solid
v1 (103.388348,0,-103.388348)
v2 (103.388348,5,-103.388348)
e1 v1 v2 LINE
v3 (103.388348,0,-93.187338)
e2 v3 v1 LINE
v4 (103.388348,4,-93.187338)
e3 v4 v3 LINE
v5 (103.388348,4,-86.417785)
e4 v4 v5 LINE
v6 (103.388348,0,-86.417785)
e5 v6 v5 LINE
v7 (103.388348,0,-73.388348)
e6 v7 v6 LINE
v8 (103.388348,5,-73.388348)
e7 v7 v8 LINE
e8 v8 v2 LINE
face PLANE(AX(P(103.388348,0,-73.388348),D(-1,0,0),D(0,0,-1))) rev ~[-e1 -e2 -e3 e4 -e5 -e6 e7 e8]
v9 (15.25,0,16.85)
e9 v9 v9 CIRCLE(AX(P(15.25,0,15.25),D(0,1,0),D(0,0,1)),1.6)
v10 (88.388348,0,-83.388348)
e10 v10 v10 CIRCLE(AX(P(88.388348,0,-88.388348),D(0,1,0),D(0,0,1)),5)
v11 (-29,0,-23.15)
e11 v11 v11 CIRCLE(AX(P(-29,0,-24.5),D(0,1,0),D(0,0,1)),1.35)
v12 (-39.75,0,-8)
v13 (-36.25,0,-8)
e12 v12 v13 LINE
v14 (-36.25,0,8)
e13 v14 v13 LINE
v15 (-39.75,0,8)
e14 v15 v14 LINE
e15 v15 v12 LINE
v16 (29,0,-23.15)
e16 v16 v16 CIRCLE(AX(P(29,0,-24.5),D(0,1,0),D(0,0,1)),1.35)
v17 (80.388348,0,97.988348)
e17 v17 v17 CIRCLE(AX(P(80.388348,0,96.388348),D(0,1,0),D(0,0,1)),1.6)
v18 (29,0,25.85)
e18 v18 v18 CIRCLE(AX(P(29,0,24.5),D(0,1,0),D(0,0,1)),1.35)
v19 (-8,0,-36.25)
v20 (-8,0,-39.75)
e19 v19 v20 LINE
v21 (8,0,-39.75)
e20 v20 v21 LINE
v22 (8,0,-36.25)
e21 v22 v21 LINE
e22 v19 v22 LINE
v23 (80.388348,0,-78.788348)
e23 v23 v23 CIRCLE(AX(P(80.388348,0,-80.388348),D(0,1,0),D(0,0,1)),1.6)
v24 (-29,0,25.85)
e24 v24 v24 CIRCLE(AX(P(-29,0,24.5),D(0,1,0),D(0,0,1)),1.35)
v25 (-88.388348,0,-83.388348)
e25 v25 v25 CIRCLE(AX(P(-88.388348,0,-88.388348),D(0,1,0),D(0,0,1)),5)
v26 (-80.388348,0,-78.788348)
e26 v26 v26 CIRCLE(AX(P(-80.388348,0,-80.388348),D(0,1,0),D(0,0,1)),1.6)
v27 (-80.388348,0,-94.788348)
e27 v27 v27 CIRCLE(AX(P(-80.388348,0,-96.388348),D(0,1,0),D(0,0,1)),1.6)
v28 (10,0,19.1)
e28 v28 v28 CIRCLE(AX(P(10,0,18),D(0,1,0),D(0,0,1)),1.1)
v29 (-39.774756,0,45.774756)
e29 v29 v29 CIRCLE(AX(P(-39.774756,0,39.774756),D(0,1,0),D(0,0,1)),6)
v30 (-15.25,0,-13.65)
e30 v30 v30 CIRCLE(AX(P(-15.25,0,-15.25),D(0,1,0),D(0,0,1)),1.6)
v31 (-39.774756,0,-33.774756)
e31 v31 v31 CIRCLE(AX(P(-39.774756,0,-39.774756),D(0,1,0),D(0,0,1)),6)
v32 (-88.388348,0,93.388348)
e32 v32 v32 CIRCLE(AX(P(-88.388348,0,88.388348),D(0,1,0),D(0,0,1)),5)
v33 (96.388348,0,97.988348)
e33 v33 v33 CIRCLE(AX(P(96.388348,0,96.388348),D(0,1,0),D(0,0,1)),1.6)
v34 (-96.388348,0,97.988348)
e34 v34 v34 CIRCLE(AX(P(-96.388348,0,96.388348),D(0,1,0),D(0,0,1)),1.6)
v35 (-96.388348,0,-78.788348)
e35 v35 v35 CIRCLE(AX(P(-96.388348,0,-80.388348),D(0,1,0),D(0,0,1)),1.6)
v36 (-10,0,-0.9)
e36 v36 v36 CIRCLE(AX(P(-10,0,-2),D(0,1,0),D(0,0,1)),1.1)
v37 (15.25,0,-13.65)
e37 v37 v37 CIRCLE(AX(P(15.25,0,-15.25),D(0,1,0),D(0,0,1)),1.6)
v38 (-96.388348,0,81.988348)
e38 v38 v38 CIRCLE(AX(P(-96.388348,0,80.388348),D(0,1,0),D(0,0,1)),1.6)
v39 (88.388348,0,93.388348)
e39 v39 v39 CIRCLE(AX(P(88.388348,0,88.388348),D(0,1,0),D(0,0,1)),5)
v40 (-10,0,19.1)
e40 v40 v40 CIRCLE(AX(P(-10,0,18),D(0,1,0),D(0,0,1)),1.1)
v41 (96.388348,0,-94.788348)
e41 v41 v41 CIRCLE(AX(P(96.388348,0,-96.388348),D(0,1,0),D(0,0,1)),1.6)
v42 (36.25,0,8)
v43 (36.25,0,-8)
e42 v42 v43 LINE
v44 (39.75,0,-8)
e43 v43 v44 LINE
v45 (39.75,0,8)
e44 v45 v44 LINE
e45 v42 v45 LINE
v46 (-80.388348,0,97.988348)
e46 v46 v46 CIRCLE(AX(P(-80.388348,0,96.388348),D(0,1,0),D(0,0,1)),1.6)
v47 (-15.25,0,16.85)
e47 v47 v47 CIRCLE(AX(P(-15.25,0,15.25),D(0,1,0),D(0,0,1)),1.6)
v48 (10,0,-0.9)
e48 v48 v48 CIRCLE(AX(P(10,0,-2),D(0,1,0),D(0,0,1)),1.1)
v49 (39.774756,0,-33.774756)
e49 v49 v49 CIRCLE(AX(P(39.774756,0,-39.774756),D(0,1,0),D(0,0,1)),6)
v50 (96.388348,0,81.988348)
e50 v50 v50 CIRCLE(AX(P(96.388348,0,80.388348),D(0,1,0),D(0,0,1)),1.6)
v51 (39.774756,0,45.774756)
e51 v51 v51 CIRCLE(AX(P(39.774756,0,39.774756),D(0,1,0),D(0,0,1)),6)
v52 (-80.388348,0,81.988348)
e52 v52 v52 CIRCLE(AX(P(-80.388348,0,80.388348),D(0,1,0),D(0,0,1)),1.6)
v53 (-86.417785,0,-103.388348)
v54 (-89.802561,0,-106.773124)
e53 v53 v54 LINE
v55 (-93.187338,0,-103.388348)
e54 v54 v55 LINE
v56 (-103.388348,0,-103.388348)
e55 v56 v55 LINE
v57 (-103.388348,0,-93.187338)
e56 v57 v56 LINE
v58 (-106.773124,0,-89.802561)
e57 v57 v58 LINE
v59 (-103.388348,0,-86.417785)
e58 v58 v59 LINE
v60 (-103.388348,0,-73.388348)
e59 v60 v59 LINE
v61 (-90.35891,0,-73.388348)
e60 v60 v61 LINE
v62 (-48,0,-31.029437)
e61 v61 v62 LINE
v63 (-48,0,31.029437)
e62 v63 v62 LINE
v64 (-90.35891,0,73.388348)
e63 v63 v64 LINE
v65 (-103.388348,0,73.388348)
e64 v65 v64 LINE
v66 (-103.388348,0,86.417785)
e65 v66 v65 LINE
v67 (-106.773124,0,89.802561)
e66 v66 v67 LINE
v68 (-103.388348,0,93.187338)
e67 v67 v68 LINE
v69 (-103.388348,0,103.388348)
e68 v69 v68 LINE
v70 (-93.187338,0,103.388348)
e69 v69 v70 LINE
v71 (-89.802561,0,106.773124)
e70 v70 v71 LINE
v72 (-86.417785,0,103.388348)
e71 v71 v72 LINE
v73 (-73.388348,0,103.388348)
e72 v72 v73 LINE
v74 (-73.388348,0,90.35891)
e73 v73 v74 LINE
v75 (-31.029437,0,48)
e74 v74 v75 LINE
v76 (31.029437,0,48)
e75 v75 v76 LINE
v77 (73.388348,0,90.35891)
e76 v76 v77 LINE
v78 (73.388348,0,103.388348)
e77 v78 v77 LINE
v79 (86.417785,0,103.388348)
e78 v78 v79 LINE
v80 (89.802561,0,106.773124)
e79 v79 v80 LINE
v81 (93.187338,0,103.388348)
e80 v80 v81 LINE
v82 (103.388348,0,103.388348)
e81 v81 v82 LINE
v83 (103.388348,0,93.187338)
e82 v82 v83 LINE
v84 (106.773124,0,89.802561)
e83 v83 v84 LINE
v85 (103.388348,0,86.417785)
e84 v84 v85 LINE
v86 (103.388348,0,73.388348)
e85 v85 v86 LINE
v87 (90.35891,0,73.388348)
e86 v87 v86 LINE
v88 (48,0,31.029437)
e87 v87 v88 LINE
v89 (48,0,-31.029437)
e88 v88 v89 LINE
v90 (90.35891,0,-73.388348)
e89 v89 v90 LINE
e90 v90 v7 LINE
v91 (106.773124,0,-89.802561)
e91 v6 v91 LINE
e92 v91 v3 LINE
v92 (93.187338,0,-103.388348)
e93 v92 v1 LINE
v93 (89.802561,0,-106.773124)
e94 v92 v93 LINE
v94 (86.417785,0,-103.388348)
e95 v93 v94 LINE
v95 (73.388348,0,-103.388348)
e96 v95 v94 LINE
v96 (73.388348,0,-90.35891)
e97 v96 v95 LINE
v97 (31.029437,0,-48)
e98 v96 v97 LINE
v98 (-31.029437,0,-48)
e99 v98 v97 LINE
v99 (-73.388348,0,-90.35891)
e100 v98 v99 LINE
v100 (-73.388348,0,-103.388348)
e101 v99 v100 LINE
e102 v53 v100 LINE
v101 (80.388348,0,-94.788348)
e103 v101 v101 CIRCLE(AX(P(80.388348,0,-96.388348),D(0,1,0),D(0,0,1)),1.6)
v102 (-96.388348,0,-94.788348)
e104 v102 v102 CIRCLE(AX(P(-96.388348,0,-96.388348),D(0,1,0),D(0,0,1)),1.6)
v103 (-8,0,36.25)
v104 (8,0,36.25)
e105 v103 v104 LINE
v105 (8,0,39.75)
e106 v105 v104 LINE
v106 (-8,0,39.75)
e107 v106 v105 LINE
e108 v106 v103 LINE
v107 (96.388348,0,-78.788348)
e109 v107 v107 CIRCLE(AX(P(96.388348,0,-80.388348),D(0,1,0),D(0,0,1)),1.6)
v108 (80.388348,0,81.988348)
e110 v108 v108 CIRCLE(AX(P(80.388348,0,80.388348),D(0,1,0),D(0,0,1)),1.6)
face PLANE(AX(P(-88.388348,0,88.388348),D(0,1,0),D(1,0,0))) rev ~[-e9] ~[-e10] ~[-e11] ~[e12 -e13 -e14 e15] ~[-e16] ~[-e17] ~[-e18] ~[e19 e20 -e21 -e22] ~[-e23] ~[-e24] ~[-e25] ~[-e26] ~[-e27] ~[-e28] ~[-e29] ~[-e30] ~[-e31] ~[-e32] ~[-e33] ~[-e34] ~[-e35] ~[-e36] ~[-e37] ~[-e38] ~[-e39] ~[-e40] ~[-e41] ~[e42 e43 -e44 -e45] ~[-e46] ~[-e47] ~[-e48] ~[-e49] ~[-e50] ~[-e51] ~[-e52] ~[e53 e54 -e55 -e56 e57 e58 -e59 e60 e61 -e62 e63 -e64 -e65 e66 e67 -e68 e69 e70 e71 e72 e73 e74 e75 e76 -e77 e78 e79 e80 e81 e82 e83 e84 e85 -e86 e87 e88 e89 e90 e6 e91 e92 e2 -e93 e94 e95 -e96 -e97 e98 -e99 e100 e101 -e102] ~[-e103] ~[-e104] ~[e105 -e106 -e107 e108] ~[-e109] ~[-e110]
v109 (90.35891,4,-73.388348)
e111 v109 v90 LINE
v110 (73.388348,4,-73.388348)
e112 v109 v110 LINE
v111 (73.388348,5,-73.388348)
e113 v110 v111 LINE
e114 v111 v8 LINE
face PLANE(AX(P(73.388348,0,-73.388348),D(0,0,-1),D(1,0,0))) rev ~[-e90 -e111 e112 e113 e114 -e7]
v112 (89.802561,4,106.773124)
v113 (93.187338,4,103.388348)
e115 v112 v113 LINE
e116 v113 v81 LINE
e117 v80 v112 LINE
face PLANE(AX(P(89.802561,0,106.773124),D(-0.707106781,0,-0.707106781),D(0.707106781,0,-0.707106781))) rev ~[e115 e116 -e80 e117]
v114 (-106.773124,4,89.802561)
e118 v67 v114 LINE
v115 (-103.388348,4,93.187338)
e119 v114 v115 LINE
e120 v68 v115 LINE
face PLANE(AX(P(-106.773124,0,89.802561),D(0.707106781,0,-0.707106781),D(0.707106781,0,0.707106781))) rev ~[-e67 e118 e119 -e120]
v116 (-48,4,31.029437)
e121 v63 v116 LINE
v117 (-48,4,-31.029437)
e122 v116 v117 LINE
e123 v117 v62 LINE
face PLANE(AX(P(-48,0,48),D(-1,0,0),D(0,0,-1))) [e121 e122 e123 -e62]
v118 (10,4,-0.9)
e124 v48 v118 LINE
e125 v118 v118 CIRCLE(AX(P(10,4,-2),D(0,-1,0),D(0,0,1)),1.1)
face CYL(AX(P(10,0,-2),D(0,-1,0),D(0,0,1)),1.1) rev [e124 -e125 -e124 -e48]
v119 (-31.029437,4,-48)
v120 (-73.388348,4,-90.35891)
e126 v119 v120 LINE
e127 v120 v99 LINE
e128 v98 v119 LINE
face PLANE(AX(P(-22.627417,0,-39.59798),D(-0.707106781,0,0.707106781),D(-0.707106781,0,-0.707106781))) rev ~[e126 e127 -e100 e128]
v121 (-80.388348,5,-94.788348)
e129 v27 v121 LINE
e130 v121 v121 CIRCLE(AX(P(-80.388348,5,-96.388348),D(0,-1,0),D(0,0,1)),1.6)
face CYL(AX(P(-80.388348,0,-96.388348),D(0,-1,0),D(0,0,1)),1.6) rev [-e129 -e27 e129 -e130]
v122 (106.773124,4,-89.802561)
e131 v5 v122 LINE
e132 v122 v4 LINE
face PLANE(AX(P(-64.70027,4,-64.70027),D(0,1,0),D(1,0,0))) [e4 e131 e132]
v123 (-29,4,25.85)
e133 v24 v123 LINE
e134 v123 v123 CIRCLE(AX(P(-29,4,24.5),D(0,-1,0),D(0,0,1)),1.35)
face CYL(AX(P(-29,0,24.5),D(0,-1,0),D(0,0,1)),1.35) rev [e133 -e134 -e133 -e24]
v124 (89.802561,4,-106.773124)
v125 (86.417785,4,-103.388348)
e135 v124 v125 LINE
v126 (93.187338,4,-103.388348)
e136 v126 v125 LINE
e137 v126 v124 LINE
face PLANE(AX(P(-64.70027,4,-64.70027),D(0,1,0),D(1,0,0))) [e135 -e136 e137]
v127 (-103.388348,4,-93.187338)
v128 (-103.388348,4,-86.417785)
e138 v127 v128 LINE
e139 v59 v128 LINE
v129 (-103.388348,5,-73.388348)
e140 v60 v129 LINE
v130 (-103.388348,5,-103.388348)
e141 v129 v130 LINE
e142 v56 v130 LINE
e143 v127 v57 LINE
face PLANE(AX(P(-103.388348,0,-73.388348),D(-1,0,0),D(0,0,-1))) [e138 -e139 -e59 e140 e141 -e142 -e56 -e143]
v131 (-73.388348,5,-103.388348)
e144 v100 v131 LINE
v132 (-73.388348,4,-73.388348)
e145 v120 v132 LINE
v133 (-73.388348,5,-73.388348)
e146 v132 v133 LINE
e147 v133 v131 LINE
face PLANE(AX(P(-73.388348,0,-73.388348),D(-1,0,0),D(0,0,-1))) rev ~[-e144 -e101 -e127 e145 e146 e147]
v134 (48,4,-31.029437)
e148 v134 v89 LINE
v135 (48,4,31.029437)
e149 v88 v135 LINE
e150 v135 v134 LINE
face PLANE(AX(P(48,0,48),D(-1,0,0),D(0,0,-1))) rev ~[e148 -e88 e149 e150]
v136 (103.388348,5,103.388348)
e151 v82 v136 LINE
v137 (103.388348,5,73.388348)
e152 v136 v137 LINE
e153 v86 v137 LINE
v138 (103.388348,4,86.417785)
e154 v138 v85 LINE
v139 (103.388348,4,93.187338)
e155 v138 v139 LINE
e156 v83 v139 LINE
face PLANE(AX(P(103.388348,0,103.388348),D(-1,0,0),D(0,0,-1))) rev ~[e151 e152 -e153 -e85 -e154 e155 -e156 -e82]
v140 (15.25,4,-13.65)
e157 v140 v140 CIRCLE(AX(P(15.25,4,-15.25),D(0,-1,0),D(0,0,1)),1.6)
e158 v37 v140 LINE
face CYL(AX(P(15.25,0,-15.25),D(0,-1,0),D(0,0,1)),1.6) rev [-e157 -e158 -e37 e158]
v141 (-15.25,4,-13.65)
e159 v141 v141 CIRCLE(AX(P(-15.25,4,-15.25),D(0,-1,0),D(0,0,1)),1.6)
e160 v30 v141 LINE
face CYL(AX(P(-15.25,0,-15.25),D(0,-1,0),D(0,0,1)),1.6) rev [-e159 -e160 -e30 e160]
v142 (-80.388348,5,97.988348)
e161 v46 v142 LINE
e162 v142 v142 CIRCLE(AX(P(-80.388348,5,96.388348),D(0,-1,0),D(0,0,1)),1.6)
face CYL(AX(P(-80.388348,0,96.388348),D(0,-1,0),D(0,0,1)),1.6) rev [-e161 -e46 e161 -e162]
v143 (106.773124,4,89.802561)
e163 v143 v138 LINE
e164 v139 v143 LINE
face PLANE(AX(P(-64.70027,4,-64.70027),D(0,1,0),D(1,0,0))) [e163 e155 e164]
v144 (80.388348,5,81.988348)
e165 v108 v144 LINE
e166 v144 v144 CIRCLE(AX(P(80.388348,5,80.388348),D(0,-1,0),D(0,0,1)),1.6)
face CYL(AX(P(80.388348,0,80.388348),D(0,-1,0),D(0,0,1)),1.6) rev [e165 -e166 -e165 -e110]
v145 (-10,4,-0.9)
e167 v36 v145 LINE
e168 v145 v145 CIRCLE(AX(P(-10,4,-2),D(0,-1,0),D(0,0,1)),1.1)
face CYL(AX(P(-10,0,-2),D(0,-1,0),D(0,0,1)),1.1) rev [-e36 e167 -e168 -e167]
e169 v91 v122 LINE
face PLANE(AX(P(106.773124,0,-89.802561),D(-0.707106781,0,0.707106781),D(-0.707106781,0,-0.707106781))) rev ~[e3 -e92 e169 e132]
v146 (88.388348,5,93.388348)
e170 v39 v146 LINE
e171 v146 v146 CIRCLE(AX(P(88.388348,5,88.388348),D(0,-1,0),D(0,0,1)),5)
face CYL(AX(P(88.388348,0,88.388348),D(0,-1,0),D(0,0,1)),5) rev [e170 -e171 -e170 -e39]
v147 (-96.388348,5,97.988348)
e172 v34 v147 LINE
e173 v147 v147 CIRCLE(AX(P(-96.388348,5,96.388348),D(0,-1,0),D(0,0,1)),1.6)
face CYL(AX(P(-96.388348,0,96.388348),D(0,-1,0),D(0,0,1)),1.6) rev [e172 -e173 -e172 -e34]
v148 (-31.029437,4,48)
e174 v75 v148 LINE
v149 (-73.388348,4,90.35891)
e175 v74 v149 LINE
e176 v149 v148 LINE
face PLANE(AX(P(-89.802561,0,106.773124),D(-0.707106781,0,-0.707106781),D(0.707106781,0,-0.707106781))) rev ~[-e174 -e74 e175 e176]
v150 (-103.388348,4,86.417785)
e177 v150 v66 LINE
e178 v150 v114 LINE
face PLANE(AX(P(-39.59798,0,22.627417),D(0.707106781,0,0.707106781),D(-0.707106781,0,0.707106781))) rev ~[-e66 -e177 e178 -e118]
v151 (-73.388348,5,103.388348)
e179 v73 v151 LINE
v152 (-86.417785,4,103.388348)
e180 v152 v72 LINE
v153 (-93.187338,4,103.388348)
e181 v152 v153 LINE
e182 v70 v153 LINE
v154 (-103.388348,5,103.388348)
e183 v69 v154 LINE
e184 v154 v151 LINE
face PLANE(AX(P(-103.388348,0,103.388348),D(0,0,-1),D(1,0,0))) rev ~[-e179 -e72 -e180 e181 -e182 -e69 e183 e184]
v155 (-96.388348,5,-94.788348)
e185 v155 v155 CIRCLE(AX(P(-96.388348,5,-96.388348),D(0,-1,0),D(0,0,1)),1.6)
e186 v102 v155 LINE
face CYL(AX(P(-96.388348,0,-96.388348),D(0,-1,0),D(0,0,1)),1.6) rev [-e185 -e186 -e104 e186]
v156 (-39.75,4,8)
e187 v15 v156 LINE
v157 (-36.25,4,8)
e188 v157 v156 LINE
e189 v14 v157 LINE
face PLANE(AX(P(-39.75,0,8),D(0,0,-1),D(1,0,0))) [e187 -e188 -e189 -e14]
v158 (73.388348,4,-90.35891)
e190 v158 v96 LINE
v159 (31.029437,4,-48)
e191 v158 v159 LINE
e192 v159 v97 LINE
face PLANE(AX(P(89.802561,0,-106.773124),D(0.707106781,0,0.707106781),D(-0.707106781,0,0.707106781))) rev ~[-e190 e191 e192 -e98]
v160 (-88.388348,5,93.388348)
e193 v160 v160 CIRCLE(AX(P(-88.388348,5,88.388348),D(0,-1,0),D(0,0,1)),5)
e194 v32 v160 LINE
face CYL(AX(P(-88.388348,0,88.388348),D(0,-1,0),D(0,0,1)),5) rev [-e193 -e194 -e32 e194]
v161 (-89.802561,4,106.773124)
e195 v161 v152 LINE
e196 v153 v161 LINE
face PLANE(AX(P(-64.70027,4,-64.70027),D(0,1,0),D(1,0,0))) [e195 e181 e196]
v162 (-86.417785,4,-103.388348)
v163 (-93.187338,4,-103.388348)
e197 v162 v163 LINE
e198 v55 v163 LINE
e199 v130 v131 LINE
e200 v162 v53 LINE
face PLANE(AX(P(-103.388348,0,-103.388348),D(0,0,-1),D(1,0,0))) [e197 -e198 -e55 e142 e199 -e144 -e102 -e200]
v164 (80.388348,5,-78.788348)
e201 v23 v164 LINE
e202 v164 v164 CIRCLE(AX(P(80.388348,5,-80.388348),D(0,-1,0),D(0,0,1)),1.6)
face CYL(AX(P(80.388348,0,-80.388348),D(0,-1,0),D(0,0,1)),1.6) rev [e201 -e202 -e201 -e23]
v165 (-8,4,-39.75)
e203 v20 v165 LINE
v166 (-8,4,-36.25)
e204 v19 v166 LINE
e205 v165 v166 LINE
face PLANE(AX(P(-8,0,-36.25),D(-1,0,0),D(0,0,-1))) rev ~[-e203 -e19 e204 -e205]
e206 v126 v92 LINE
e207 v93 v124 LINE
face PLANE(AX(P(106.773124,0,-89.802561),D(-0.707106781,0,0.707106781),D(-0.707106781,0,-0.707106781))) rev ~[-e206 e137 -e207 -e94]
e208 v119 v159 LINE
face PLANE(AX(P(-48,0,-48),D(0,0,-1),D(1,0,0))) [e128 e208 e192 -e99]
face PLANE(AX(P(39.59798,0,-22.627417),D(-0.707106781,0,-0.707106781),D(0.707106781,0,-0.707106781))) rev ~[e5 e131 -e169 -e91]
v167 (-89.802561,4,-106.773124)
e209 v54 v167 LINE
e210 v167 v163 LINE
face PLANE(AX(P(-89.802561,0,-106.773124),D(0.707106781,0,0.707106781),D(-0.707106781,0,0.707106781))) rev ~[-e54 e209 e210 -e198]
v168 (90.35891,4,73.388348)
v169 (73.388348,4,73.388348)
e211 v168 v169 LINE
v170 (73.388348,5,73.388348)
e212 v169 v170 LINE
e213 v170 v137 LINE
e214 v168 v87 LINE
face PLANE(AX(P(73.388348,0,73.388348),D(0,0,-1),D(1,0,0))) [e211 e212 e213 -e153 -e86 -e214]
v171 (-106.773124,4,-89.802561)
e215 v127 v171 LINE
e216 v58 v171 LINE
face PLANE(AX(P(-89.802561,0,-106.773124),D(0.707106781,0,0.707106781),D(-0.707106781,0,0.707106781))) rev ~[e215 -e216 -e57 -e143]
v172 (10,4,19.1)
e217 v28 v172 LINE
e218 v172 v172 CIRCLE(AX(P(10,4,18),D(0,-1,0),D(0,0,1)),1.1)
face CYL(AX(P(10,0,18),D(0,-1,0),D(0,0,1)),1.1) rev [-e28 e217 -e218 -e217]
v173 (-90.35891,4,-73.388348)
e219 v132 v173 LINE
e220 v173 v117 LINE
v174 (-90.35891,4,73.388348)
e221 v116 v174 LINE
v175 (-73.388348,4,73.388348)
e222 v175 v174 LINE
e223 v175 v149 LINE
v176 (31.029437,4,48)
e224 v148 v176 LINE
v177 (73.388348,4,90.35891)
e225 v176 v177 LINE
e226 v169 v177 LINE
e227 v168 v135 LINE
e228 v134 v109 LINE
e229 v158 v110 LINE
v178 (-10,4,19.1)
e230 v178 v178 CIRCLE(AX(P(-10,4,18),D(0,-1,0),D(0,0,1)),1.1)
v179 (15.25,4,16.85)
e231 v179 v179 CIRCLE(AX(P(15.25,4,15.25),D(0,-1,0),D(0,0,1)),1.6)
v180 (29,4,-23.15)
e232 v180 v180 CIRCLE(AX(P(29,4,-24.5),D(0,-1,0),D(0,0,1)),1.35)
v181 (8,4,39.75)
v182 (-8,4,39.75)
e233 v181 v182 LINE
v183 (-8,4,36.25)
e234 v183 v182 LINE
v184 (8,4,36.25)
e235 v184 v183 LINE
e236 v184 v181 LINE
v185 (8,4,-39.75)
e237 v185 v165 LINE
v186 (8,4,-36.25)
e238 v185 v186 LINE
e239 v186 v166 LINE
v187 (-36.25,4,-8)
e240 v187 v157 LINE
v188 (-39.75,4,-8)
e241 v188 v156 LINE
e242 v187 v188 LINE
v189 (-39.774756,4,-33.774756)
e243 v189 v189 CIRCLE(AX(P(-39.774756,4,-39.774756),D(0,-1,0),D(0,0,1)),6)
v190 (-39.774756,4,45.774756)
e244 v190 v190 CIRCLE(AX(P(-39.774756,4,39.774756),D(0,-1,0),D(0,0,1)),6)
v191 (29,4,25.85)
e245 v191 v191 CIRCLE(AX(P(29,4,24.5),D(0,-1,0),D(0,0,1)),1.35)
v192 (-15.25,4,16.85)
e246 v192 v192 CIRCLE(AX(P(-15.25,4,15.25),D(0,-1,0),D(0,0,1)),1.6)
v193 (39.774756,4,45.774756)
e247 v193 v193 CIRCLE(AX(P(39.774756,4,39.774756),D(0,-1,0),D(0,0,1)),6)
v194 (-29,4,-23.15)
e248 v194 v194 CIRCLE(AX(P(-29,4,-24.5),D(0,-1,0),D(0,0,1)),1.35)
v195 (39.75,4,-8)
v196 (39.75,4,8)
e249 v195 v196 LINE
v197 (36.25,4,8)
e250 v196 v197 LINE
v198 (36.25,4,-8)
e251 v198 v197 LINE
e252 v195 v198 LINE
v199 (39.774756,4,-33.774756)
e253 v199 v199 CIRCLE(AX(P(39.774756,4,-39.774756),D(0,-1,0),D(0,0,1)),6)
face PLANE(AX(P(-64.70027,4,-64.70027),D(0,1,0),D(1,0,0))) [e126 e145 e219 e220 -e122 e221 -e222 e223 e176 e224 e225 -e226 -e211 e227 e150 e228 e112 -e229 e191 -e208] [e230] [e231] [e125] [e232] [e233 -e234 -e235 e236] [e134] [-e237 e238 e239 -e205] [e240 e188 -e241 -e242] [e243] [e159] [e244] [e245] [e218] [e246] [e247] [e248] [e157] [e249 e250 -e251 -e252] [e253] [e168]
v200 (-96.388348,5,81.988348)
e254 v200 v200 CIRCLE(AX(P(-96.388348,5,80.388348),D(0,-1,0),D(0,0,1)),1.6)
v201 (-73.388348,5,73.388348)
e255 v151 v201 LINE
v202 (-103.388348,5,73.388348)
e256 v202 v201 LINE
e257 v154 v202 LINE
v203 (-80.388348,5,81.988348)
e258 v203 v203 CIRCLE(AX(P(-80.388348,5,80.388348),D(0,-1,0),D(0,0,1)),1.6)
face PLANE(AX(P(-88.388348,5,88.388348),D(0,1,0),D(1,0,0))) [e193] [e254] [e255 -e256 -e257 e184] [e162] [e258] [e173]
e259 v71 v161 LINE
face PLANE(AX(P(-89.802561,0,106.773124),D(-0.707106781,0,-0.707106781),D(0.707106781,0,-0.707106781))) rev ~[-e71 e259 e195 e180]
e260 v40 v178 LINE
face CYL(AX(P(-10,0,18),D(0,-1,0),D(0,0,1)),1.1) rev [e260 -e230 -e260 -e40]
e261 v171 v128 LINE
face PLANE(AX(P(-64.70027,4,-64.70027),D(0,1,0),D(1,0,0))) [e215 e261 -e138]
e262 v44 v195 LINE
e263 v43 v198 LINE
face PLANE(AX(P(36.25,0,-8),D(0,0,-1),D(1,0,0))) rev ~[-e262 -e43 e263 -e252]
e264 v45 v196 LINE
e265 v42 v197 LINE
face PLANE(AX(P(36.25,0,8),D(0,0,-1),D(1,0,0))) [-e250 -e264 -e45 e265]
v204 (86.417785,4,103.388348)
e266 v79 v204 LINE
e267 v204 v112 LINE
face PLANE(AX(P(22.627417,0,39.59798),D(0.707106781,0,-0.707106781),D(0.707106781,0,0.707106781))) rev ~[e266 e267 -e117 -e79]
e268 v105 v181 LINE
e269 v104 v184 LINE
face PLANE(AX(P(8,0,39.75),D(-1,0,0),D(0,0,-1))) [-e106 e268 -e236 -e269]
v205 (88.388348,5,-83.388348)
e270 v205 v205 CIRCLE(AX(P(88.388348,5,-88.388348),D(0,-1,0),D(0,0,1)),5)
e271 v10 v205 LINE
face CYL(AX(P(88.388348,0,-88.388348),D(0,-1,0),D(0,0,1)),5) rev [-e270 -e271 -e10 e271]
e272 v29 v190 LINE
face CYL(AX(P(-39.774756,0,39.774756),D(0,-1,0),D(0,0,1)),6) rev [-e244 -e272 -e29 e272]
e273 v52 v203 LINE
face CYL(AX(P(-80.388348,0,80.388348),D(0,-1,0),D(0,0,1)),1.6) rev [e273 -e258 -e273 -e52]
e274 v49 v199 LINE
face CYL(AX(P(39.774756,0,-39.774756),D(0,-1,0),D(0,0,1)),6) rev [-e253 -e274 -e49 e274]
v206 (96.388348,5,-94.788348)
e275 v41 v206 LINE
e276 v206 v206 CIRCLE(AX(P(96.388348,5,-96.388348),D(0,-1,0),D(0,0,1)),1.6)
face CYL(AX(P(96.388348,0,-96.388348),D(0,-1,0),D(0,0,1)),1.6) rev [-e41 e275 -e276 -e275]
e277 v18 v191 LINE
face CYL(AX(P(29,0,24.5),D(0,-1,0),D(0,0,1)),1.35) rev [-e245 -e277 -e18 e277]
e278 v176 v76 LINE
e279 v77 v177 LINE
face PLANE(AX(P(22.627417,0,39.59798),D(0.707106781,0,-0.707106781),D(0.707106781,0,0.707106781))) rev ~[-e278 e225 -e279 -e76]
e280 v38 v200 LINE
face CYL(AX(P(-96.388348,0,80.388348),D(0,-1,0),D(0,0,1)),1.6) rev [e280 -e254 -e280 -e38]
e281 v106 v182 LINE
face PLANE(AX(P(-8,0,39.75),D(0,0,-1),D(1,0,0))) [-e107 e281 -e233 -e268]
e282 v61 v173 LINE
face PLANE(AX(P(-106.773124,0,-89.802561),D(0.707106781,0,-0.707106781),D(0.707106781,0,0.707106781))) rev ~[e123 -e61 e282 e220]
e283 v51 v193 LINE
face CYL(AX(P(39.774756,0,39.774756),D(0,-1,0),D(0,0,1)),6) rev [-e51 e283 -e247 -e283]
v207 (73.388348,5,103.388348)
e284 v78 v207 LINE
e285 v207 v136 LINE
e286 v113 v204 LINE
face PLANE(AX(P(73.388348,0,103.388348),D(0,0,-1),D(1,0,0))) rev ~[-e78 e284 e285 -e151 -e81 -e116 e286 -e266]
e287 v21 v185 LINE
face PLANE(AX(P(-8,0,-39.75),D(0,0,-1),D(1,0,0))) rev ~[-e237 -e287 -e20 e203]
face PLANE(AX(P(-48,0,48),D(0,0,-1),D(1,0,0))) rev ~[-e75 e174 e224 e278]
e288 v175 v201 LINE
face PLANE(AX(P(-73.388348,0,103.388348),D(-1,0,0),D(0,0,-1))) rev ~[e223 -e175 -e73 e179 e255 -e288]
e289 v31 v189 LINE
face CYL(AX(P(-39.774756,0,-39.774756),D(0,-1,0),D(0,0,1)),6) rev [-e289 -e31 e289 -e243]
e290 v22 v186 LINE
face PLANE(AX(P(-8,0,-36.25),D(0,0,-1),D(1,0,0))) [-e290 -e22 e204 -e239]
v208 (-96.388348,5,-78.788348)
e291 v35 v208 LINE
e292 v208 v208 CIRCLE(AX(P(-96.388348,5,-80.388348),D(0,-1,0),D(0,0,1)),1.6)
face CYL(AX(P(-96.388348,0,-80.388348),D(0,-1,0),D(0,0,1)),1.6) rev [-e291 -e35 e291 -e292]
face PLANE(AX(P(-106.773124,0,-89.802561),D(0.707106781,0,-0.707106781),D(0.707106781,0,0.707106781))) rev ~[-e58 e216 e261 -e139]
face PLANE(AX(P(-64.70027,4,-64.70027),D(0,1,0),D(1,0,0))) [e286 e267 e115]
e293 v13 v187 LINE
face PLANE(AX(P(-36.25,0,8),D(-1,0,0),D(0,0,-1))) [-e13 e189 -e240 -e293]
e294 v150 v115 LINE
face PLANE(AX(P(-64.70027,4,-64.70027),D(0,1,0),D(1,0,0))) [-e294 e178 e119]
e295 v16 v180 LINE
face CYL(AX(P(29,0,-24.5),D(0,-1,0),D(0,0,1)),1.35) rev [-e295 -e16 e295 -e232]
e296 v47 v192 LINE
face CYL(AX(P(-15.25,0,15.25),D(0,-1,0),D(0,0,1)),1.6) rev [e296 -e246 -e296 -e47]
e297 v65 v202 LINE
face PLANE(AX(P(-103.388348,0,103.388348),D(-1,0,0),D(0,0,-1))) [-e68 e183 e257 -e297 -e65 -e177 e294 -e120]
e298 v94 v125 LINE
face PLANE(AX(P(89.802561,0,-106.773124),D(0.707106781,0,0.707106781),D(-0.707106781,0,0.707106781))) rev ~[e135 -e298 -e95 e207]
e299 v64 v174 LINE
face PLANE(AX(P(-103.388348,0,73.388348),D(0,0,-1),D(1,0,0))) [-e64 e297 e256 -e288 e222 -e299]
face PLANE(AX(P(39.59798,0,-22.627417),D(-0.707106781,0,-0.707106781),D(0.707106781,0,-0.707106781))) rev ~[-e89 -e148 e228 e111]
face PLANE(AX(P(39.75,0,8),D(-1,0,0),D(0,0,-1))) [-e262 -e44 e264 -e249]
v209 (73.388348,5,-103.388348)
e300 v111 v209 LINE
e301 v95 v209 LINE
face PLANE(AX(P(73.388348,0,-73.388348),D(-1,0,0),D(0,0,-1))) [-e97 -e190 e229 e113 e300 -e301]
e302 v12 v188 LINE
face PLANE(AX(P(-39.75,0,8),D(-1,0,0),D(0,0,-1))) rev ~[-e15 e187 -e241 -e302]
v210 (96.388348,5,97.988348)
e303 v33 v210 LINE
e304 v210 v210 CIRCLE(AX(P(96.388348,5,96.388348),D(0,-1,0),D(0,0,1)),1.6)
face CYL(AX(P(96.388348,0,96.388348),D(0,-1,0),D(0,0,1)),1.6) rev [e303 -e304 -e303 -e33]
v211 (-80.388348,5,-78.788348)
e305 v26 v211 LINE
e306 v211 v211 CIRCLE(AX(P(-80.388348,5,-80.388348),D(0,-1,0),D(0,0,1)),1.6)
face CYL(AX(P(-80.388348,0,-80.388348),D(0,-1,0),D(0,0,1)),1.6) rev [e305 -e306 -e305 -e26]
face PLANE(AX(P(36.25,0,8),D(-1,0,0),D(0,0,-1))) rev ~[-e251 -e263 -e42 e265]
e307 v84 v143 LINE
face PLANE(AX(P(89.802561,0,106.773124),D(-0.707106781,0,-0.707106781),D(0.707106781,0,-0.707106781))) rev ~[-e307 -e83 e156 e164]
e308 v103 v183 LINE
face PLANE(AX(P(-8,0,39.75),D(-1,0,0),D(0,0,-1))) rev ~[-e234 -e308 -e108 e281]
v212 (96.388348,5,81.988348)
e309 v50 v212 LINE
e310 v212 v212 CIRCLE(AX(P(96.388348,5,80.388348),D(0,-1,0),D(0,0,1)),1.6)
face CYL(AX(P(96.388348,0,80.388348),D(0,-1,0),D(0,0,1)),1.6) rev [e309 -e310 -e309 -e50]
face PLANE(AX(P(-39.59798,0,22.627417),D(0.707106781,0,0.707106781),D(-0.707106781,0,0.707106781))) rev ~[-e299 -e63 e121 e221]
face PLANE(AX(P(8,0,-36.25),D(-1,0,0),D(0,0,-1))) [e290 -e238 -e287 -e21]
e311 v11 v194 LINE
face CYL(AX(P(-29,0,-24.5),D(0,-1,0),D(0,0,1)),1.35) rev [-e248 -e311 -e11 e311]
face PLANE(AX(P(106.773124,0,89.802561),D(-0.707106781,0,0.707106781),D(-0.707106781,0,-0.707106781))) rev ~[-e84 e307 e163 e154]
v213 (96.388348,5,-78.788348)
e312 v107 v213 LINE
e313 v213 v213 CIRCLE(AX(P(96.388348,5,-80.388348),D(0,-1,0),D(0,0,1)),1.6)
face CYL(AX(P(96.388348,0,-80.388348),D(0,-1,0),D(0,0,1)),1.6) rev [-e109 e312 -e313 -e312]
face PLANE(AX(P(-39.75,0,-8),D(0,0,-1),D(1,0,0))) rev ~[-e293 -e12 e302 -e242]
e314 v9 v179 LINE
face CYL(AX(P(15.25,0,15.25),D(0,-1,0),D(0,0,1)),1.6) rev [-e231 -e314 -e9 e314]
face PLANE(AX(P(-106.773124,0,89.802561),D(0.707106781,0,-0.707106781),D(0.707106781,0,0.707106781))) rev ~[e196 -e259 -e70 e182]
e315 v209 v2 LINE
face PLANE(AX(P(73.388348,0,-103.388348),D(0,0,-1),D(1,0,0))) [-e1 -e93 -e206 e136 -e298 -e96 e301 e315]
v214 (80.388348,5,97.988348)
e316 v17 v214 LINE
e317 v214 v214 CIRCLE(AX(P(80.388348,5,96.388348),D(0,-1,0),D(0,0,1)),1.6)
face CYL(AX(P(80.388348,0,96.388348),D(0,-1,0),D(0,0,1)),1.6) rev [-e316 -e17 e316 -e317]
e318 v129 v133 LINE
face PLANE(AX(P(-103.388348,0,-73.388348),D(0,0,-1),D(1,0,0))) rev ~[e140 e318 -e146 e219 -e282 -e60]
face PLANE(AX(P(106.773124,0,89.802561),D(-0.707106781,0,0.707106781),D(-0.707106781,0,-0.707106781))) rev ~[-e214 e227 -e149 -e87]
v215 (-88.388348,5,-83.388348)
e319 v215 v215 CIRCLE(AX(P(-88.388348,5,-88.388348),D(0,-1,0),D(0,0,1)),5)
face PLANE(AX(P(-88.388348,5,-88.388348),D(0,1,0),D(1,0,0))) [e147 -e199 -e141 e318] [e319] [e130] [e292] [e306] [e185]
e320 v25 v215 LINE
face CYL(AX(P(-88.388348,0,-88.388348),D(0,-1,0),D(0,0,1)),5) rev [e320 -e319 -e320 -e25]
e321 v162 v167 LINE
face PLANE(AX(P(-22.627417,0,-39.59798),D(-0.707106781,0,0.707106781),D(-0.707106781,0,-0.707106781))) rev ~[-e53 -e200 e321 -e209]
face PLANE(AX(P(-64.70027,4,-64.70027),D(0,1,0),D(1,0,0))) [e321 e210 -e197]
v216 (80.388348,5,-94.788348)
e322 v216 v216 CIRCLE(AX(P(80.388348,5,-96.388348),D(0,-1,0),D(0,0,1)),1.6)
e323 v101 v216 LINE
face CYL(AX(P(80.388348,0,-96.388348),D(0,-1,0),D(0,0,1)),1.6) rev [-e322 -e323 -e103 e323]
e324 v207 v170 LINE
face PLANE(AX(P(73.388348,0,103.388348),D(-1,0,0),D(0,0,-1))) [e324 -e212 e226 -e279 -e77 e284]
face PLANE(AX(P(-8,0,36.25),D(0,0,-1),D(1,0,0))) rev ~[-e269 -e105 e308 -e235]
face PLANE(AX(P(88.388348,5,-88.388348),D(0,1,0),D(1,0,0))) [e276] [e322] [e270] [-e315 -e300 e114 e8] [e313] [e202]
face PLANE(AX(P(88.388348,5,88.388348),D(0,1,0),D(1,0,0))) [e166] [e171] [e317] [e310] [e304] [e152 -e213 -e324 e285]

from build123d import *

# Parameters (mm, degrees)
SKETCH1_W            = 96
SKETCH1_H            = 96
CENTERDECK_DEPTH     = 4
ARM1_DEPTH           = 4
ARM2_DEPTH           = 4
ARM3_DEPTH           = 4
ARM4_DEPTH           = 4
SKETCH6_W            = 30
SKETCH6_H            = 30
MOTORPAD1_DEPTH      = 5
SKETCH7_W            = 30
SKETCH7_H            = 30
MOTORPAD2_DEPTH      = 5
SKETCH8_W            = 30
SKETCH8_H            = 30
MOTORPAD3_DEPTH      = 5
SKETCH9_W            = 30
SKETCH9_H            = 30
MOTORPAD4_DEPTH      = 5
SKETCH10_R           = 1.6
SKETCH10_R_2         = 5
MOTORHOLES1_DEPTH    = 152.082758778
SKETCH11_R           = 1.6
SKETCH11_R_2         = 5
MOTORHOLES2_DEPTH    = 152.082758778
SKETCH12_R           = 1.6
SKETCH12_R_2         = 5
MOTORHOLES3_DEPTH    = 152.082758778
SKETCH13_R           = 1.6
SKETCH13_R_2         = 5
MOTORHOLES4_DEPTH    = 152.082758778
SKETCH14_R           = 1.6
STACKHOLES_DEPTH     = 152.082758778
SKETCH15_R           = 1.35
PIHOLES_DEPTH        = 152.082758778
SKETCH16_W           = 3.5
SKETCH16_H           = 16
SKETCH16_W_2         = 16
SKETCH16_H_2         = 3.5
BATTSTRAPSLOTS_DEPTH = 152.082758778
SKETCH17_R           = 1.1
CAMERAHOLES_DEPTH    = 152.082758778
SKETCH18_R           = 6
ARMLIGHTENING_DEPTH  = 152.082758778


with BuildPart() as part:
    # Sketch1 → CenterDeck (new body)
    with BuildSketch(Plane(origin=(0, 0, 0), x_dir=(1, 0, 0), z_dir=(0, 1, 0))):
        Rectangle(SKETCH1_W, SKETCH1_H)
    extrude(amount=CENTERDECK_DEPTH)

    # Sketch2 → Arm1 (add)
    with BuildSketch(Plane(origin=(0, 0, 0), x_dir=(1, 0, 0), z_dir=(0, 1, 0))):
        Polygon((22.627416998, 39.597979746), (39.597979746, 22.627416998), (106.773123959, 89.802561211), (89.802561211, 106.773123959), align=None)
    extrude(amount=ARM1_DEPTH)

    # Sketch3 → Arm2 (add)
    with BuildSketch(Plane(origin=(0, 0, 0), x_dir=(1, 0, 0), z_dir=(0, 1, 0))):
        Polygon((39.597979746, -22.627416998), (22.627416998, -39.597979746), (89.802561211, -106.773123959), (106.773123959, -89.802561211), align=None)
    extrude(amount=ARM2_DEPTH)

    # Sketch4 → Arm3 (add)
    with BuildSketch(Plane(origin=(0, 0, 0), x_dir=(1, 0, 0), z_dir=(0, 1, 0))):
        Polygon((-39.597979746, 22.627416998), (-22.627416998, 39.597979746), (-89.802561211, 106.773123959), (-106.773123959, 89.802561211), align=None)
    extrude(amount=ARM3_DEPTH)

    # Sketch5 → Arm4 (add)
    with BuildSketch(Plane(origin=(0, 0, 0), x_dir=(1, 0, 0), z_dir=(0, 1, 0))):
        Polygon((-22.627416998, -39.597979746), (-39.597979746, -22.627416998), (-106.773123959, -89.802561211), (-89.802561211, -106.773123959), align=None)
    extrude(amount=ARM4_DEPTH)

    # Sketch6 → MotorPad1 (add)
    with BuildSketch(Plane(origin=(0, 0, 0), x_dir=(1, 0, 0), z_dir=(0, 1, 0))):
        with Locations((88.388347648, 88.388347648)):
            Rectangle(SKETCH6_W, SKETCH6_H)
    extrude(amount=MOTORPAD1_DEPTH)

    # Sketch7 → MotorPad2 (add)
    with BuildSketch(Plane(origin=(0, 0, 0), x_dir=(1, 0, 0), z_dir=(0, 1, 0))):
        with Locations((88.388347648, -88.388347648)):
            Rectangle(SKETCH7_W, SKETCH7_H)
    extrude(amount=MOTORPAD2_DEPTH)

    # Sketch8 → MotorPad3 (add)
    with BuildSketch(Plane(origin=(0, 0, 0), x_dir=(1, 0, 0), z_dir=(0, 1, 0))):
        with Locations((-88.388347648, 88.388347648)):
            Rectangle(SKETCH8_W, SKETCH8_H)
    extrude(amount=MOTORPAD3_DEPTH)

    # Sketch9 → MotorPad4 (add)
    with BuildSketch(Plane(origin=(0, 0, 0), x_dir=(1, 0, 0), z_dir=(0, 1, 0))):
        with Locations((-88.388347648, -88.388347648)):
            Rectangle(SKETCH9_W, SKETCH9_H)
    extrude(amount=MOTORPAD4_DEPTH)

    # Sketch10 → MotorHoles1 (cut, through all)
    with BuildSketch(Plane(origin=(0, 0, 0), x_dir=(1, 0, 0), z_dir=(0, 1, 0))):
        with Locations(Location((96.388347648, 96.388347648, 0), (0, 0, 270))):
            Circle(SKETCH10_R)
        with Locations(Location((96.388347648, 80.388347648, 0), (0, 0, 270))):
            Circle(SKETCH10_R)
        with Locations(Location((80.388347648, 96.388347648, 0), (0, 0, 270))):
            Circle(SKETCH10_R)
        with Locations(Location((80.388347648, 80.388347648, 0), (0, 0, 270))):
            Circle(SKETCH10_R)
        with Locations(Location((88.388347648, 88.388347648, 0), (0, 0, 270))):
            Circle(SKETCH10_R_2)
    extrude(amount=MOTORHOLES1_DEPTH, mode=Mode.SUBTRACT)

    # Sketch11 → MotorHoles2 (cut, through all)
    with BuildSketch(Plane(origin=(0, 0, 0), x_dir=(1, 0, 0), z_dir=(0, 1, 0))):
        with Locations(Location((96.388347648, -80.388347648, 0), (0, 0, 270))):
            Circle(SKETCH11_R)
        with Locations(Location((96.388347648, -96.388347648, 0), (0, 0, 270))):
            Circle(SKETCH11_R)
        with Locations(Location((80.388347648, -80.388347648, 0), (0, 0, 270))):
            Circle(SKETCH11_R)
        with Locations(Location((80.388347648, -96.388347648, 0), (0, 0, 270))):
            Circle(SKETCH11_R)
        with Locations(Location((88.388347648, -88.388347648, 0), (0, 0, 270))):
            Circle(SKETCH11_R_2)
    extrude(amount=MOTORHOLES2_DEPTH, mode=Mode.SUBTRACT)

    # Sketch12 → MotorHoles3 (cut, through all)
    with BuildSketch(Plane(origin=(0, 0, 0), x_dir=(1, 0, 0), z_dir=(0, 1, 0))):
        with Locations(Location((-80.388347648, 96.388347648, 0), (0, 0, 270))):
            Circle(SKETCH12_R)
        with Locations(Location((-80.388347648, 80.388347648, 0), (0, 0, 270))):
            Circle(SKETCH12_R)
        with Locations(Location((-96.388347648, 96.388347648, 0), (0, 0, 270))):
            Circle(SKETCH12_R)
        with Locations(Location((-96.388347648, 80.388347648, 0), (0, 0, 270))):
            Circle(SKETCH12_R)
        with Locations(Location((-88.388347648, 88.388347648, 0), (0, 0, 270))):
            Circle(SKETCH12_R_2)
    extrude(amount=MOTORHOLES3_DEPTH, mode=Mode.SUBTRACT)

    # Sketch13 → MotorHoles4 (cut, through all)
    with BuildSketch(Plane(origin=(0, 0, 0), x_dir=(1, 0, 0), z_dir=(0, 1, 0))):
        with Locations(Location((-80.388347648, -80.388347648, 0), (0, 0, 270))):
            Circle(SKETCH13_R)
        with Locations(Location((-80.388347648, -96.388347648, 0), (0, 0, 270))):
            Circle(SKETCH13_R)
        with Locations(Location((-96.388347648, -80.388347648, 0), (0, 0, 270))):
            Circle(SKETCH13_R)
        with Locations(Location((-96.388347648, -96.388347648, 0), (0, 0, 270))):
            Circle(SKETCH13_R)
        with Locations(Location((-88.388347648, -88.388347648, 0), (0, 0, 270))):
            Circle(SKETCH13_R_2)
    extrude(amount=MOTORHOLES4_DEPTH, mode=Mode.SUBTRACT)

    # Sketch14 → StackHoles (cut, through all)
    with BuildSketch(Plane(origin=(0, 0, 0), x_dir=(1, 0, 0), z_dir=(0, 1, 0))):
        with Locations(Location((15.25, 15.25, 0), (0, 0, 270))):
            Circle(SKETCH14_R)
        with Locations(Location((15.25, -15.25, 0), (0, 0, 270))):
            Circle(SKETCH14_R)
        with Locations(Location((-15.25, 15.25, 0), (0, 0, 270))):
            Circle(SKETCH14_R)
        with Locations(Location((-15.25, -15.25, 0), (0, 0, 270))):
            Circle(SKETCH14_R)
    extrude(amount=STACKHOLES_DEPTH, mode=Mode.SUBTRACT)

    # Sketch15 → PiHoles (cut, through all)
    with BuildSketch(Plane(origin=(0, 0, 0), x_dir=(1, 0, 0), z_dir=(0, 1, 0))):
        with Locations(Location((29, 24.5, 0), (0, 0, 270))):
            Circle(SKETCH15_R)
        with Locations(Location((29, -24.5, 0), (0, 0, 270))):
            Circle(SKETCH15_R)
        with Locations(Location((-29, 24.5, 0), (0, 0, 270))):
            Circle(SKETCH15_R)
        with Locations(Location((-29, -24.5, 0), (0, 0, 270))):
            Circle(SKETCH15_R)
    extrude(amount=PIHOLES_DEPTH, mode=Mode.SUBTRACT)

    # Sketch16 → BattStrapSlots (cut, through all)
    with BuildSketch(Plane(origin=(0, 0, 0), x_dir=(1, 0, 0), z_dir=(0, 1, 0))):
        with Locations((-38, 0)):
            Rectangle(SKETCH16_W, SKETCH16_H)
        with Locations((38, 0)):
            Rectangle(SKETCH16_W, SKETCH16_H)
        with Locations((0, 38)):
            Rectangle(SKETCH16_W_2, SKETCH16_H_2)
        with Locations((0, -38)):
            Rectangle(SKETCH16_W_2, SKETCH16_H_2)
    extrude(amount=BATTSTRAPSLOTS_DEPTH, mode=Mode.SUBTRACT)

    # Sketch17 → CameraHoles (cut, through all)
    with BuildSketch(Plane(origin=(0, 0, 0), x_dir=(1, 0, 0), z_dir=(0, 1, 0))):
        with Locations(Location((10, 2, 0), (0, 0, 270))):
            Circle(SKETCH17_R)
        with Locations(Location((10, -18, 0), (0, 0, 270))):
            Circle(SKETCH17_R)
        with Locations(Location((-10, 2, 0), (0, 0, 270))):
            Circle(SKETCH17_R)
        with Locations(Location((-10, -18, 0), (0, 0, 270))):
            Circle(SKETCH17_R)
    extrude(amount=CAMERAHOLES_DEPTH, mode=Mode.SUBTRACT)

    # Sketch18 → ArmLightening (cut, through all)
    with BuildSketch(Plane(origin=(0, 0, 0), x_dir=(1, 0, 0), z_dir=(0, 1, 0))):
        with Locations(Location((39.774756442, 39.774756442, 0), (0, 0, 270))):
            Circle(SKETCH18_R)
        with Locations(Location((39.774756442, -39.774756442, 0), (0, 0, 270))):
            Circle(SKETCH18_R)
        with Locations(Location((-39.774756442, 39.774756442, 0), (0, 0, 270))):
            Circle(SKETCH18_R)
        with Locations(Location((-39.774756442, -39.774756442, 0), (0, 0, 270))):
            Circle(SKETCH18_R)
    extrude(amount=ARMLIGHTENING_DEPTH, mode=Mode.SUBTRACT)


solid = part.part
